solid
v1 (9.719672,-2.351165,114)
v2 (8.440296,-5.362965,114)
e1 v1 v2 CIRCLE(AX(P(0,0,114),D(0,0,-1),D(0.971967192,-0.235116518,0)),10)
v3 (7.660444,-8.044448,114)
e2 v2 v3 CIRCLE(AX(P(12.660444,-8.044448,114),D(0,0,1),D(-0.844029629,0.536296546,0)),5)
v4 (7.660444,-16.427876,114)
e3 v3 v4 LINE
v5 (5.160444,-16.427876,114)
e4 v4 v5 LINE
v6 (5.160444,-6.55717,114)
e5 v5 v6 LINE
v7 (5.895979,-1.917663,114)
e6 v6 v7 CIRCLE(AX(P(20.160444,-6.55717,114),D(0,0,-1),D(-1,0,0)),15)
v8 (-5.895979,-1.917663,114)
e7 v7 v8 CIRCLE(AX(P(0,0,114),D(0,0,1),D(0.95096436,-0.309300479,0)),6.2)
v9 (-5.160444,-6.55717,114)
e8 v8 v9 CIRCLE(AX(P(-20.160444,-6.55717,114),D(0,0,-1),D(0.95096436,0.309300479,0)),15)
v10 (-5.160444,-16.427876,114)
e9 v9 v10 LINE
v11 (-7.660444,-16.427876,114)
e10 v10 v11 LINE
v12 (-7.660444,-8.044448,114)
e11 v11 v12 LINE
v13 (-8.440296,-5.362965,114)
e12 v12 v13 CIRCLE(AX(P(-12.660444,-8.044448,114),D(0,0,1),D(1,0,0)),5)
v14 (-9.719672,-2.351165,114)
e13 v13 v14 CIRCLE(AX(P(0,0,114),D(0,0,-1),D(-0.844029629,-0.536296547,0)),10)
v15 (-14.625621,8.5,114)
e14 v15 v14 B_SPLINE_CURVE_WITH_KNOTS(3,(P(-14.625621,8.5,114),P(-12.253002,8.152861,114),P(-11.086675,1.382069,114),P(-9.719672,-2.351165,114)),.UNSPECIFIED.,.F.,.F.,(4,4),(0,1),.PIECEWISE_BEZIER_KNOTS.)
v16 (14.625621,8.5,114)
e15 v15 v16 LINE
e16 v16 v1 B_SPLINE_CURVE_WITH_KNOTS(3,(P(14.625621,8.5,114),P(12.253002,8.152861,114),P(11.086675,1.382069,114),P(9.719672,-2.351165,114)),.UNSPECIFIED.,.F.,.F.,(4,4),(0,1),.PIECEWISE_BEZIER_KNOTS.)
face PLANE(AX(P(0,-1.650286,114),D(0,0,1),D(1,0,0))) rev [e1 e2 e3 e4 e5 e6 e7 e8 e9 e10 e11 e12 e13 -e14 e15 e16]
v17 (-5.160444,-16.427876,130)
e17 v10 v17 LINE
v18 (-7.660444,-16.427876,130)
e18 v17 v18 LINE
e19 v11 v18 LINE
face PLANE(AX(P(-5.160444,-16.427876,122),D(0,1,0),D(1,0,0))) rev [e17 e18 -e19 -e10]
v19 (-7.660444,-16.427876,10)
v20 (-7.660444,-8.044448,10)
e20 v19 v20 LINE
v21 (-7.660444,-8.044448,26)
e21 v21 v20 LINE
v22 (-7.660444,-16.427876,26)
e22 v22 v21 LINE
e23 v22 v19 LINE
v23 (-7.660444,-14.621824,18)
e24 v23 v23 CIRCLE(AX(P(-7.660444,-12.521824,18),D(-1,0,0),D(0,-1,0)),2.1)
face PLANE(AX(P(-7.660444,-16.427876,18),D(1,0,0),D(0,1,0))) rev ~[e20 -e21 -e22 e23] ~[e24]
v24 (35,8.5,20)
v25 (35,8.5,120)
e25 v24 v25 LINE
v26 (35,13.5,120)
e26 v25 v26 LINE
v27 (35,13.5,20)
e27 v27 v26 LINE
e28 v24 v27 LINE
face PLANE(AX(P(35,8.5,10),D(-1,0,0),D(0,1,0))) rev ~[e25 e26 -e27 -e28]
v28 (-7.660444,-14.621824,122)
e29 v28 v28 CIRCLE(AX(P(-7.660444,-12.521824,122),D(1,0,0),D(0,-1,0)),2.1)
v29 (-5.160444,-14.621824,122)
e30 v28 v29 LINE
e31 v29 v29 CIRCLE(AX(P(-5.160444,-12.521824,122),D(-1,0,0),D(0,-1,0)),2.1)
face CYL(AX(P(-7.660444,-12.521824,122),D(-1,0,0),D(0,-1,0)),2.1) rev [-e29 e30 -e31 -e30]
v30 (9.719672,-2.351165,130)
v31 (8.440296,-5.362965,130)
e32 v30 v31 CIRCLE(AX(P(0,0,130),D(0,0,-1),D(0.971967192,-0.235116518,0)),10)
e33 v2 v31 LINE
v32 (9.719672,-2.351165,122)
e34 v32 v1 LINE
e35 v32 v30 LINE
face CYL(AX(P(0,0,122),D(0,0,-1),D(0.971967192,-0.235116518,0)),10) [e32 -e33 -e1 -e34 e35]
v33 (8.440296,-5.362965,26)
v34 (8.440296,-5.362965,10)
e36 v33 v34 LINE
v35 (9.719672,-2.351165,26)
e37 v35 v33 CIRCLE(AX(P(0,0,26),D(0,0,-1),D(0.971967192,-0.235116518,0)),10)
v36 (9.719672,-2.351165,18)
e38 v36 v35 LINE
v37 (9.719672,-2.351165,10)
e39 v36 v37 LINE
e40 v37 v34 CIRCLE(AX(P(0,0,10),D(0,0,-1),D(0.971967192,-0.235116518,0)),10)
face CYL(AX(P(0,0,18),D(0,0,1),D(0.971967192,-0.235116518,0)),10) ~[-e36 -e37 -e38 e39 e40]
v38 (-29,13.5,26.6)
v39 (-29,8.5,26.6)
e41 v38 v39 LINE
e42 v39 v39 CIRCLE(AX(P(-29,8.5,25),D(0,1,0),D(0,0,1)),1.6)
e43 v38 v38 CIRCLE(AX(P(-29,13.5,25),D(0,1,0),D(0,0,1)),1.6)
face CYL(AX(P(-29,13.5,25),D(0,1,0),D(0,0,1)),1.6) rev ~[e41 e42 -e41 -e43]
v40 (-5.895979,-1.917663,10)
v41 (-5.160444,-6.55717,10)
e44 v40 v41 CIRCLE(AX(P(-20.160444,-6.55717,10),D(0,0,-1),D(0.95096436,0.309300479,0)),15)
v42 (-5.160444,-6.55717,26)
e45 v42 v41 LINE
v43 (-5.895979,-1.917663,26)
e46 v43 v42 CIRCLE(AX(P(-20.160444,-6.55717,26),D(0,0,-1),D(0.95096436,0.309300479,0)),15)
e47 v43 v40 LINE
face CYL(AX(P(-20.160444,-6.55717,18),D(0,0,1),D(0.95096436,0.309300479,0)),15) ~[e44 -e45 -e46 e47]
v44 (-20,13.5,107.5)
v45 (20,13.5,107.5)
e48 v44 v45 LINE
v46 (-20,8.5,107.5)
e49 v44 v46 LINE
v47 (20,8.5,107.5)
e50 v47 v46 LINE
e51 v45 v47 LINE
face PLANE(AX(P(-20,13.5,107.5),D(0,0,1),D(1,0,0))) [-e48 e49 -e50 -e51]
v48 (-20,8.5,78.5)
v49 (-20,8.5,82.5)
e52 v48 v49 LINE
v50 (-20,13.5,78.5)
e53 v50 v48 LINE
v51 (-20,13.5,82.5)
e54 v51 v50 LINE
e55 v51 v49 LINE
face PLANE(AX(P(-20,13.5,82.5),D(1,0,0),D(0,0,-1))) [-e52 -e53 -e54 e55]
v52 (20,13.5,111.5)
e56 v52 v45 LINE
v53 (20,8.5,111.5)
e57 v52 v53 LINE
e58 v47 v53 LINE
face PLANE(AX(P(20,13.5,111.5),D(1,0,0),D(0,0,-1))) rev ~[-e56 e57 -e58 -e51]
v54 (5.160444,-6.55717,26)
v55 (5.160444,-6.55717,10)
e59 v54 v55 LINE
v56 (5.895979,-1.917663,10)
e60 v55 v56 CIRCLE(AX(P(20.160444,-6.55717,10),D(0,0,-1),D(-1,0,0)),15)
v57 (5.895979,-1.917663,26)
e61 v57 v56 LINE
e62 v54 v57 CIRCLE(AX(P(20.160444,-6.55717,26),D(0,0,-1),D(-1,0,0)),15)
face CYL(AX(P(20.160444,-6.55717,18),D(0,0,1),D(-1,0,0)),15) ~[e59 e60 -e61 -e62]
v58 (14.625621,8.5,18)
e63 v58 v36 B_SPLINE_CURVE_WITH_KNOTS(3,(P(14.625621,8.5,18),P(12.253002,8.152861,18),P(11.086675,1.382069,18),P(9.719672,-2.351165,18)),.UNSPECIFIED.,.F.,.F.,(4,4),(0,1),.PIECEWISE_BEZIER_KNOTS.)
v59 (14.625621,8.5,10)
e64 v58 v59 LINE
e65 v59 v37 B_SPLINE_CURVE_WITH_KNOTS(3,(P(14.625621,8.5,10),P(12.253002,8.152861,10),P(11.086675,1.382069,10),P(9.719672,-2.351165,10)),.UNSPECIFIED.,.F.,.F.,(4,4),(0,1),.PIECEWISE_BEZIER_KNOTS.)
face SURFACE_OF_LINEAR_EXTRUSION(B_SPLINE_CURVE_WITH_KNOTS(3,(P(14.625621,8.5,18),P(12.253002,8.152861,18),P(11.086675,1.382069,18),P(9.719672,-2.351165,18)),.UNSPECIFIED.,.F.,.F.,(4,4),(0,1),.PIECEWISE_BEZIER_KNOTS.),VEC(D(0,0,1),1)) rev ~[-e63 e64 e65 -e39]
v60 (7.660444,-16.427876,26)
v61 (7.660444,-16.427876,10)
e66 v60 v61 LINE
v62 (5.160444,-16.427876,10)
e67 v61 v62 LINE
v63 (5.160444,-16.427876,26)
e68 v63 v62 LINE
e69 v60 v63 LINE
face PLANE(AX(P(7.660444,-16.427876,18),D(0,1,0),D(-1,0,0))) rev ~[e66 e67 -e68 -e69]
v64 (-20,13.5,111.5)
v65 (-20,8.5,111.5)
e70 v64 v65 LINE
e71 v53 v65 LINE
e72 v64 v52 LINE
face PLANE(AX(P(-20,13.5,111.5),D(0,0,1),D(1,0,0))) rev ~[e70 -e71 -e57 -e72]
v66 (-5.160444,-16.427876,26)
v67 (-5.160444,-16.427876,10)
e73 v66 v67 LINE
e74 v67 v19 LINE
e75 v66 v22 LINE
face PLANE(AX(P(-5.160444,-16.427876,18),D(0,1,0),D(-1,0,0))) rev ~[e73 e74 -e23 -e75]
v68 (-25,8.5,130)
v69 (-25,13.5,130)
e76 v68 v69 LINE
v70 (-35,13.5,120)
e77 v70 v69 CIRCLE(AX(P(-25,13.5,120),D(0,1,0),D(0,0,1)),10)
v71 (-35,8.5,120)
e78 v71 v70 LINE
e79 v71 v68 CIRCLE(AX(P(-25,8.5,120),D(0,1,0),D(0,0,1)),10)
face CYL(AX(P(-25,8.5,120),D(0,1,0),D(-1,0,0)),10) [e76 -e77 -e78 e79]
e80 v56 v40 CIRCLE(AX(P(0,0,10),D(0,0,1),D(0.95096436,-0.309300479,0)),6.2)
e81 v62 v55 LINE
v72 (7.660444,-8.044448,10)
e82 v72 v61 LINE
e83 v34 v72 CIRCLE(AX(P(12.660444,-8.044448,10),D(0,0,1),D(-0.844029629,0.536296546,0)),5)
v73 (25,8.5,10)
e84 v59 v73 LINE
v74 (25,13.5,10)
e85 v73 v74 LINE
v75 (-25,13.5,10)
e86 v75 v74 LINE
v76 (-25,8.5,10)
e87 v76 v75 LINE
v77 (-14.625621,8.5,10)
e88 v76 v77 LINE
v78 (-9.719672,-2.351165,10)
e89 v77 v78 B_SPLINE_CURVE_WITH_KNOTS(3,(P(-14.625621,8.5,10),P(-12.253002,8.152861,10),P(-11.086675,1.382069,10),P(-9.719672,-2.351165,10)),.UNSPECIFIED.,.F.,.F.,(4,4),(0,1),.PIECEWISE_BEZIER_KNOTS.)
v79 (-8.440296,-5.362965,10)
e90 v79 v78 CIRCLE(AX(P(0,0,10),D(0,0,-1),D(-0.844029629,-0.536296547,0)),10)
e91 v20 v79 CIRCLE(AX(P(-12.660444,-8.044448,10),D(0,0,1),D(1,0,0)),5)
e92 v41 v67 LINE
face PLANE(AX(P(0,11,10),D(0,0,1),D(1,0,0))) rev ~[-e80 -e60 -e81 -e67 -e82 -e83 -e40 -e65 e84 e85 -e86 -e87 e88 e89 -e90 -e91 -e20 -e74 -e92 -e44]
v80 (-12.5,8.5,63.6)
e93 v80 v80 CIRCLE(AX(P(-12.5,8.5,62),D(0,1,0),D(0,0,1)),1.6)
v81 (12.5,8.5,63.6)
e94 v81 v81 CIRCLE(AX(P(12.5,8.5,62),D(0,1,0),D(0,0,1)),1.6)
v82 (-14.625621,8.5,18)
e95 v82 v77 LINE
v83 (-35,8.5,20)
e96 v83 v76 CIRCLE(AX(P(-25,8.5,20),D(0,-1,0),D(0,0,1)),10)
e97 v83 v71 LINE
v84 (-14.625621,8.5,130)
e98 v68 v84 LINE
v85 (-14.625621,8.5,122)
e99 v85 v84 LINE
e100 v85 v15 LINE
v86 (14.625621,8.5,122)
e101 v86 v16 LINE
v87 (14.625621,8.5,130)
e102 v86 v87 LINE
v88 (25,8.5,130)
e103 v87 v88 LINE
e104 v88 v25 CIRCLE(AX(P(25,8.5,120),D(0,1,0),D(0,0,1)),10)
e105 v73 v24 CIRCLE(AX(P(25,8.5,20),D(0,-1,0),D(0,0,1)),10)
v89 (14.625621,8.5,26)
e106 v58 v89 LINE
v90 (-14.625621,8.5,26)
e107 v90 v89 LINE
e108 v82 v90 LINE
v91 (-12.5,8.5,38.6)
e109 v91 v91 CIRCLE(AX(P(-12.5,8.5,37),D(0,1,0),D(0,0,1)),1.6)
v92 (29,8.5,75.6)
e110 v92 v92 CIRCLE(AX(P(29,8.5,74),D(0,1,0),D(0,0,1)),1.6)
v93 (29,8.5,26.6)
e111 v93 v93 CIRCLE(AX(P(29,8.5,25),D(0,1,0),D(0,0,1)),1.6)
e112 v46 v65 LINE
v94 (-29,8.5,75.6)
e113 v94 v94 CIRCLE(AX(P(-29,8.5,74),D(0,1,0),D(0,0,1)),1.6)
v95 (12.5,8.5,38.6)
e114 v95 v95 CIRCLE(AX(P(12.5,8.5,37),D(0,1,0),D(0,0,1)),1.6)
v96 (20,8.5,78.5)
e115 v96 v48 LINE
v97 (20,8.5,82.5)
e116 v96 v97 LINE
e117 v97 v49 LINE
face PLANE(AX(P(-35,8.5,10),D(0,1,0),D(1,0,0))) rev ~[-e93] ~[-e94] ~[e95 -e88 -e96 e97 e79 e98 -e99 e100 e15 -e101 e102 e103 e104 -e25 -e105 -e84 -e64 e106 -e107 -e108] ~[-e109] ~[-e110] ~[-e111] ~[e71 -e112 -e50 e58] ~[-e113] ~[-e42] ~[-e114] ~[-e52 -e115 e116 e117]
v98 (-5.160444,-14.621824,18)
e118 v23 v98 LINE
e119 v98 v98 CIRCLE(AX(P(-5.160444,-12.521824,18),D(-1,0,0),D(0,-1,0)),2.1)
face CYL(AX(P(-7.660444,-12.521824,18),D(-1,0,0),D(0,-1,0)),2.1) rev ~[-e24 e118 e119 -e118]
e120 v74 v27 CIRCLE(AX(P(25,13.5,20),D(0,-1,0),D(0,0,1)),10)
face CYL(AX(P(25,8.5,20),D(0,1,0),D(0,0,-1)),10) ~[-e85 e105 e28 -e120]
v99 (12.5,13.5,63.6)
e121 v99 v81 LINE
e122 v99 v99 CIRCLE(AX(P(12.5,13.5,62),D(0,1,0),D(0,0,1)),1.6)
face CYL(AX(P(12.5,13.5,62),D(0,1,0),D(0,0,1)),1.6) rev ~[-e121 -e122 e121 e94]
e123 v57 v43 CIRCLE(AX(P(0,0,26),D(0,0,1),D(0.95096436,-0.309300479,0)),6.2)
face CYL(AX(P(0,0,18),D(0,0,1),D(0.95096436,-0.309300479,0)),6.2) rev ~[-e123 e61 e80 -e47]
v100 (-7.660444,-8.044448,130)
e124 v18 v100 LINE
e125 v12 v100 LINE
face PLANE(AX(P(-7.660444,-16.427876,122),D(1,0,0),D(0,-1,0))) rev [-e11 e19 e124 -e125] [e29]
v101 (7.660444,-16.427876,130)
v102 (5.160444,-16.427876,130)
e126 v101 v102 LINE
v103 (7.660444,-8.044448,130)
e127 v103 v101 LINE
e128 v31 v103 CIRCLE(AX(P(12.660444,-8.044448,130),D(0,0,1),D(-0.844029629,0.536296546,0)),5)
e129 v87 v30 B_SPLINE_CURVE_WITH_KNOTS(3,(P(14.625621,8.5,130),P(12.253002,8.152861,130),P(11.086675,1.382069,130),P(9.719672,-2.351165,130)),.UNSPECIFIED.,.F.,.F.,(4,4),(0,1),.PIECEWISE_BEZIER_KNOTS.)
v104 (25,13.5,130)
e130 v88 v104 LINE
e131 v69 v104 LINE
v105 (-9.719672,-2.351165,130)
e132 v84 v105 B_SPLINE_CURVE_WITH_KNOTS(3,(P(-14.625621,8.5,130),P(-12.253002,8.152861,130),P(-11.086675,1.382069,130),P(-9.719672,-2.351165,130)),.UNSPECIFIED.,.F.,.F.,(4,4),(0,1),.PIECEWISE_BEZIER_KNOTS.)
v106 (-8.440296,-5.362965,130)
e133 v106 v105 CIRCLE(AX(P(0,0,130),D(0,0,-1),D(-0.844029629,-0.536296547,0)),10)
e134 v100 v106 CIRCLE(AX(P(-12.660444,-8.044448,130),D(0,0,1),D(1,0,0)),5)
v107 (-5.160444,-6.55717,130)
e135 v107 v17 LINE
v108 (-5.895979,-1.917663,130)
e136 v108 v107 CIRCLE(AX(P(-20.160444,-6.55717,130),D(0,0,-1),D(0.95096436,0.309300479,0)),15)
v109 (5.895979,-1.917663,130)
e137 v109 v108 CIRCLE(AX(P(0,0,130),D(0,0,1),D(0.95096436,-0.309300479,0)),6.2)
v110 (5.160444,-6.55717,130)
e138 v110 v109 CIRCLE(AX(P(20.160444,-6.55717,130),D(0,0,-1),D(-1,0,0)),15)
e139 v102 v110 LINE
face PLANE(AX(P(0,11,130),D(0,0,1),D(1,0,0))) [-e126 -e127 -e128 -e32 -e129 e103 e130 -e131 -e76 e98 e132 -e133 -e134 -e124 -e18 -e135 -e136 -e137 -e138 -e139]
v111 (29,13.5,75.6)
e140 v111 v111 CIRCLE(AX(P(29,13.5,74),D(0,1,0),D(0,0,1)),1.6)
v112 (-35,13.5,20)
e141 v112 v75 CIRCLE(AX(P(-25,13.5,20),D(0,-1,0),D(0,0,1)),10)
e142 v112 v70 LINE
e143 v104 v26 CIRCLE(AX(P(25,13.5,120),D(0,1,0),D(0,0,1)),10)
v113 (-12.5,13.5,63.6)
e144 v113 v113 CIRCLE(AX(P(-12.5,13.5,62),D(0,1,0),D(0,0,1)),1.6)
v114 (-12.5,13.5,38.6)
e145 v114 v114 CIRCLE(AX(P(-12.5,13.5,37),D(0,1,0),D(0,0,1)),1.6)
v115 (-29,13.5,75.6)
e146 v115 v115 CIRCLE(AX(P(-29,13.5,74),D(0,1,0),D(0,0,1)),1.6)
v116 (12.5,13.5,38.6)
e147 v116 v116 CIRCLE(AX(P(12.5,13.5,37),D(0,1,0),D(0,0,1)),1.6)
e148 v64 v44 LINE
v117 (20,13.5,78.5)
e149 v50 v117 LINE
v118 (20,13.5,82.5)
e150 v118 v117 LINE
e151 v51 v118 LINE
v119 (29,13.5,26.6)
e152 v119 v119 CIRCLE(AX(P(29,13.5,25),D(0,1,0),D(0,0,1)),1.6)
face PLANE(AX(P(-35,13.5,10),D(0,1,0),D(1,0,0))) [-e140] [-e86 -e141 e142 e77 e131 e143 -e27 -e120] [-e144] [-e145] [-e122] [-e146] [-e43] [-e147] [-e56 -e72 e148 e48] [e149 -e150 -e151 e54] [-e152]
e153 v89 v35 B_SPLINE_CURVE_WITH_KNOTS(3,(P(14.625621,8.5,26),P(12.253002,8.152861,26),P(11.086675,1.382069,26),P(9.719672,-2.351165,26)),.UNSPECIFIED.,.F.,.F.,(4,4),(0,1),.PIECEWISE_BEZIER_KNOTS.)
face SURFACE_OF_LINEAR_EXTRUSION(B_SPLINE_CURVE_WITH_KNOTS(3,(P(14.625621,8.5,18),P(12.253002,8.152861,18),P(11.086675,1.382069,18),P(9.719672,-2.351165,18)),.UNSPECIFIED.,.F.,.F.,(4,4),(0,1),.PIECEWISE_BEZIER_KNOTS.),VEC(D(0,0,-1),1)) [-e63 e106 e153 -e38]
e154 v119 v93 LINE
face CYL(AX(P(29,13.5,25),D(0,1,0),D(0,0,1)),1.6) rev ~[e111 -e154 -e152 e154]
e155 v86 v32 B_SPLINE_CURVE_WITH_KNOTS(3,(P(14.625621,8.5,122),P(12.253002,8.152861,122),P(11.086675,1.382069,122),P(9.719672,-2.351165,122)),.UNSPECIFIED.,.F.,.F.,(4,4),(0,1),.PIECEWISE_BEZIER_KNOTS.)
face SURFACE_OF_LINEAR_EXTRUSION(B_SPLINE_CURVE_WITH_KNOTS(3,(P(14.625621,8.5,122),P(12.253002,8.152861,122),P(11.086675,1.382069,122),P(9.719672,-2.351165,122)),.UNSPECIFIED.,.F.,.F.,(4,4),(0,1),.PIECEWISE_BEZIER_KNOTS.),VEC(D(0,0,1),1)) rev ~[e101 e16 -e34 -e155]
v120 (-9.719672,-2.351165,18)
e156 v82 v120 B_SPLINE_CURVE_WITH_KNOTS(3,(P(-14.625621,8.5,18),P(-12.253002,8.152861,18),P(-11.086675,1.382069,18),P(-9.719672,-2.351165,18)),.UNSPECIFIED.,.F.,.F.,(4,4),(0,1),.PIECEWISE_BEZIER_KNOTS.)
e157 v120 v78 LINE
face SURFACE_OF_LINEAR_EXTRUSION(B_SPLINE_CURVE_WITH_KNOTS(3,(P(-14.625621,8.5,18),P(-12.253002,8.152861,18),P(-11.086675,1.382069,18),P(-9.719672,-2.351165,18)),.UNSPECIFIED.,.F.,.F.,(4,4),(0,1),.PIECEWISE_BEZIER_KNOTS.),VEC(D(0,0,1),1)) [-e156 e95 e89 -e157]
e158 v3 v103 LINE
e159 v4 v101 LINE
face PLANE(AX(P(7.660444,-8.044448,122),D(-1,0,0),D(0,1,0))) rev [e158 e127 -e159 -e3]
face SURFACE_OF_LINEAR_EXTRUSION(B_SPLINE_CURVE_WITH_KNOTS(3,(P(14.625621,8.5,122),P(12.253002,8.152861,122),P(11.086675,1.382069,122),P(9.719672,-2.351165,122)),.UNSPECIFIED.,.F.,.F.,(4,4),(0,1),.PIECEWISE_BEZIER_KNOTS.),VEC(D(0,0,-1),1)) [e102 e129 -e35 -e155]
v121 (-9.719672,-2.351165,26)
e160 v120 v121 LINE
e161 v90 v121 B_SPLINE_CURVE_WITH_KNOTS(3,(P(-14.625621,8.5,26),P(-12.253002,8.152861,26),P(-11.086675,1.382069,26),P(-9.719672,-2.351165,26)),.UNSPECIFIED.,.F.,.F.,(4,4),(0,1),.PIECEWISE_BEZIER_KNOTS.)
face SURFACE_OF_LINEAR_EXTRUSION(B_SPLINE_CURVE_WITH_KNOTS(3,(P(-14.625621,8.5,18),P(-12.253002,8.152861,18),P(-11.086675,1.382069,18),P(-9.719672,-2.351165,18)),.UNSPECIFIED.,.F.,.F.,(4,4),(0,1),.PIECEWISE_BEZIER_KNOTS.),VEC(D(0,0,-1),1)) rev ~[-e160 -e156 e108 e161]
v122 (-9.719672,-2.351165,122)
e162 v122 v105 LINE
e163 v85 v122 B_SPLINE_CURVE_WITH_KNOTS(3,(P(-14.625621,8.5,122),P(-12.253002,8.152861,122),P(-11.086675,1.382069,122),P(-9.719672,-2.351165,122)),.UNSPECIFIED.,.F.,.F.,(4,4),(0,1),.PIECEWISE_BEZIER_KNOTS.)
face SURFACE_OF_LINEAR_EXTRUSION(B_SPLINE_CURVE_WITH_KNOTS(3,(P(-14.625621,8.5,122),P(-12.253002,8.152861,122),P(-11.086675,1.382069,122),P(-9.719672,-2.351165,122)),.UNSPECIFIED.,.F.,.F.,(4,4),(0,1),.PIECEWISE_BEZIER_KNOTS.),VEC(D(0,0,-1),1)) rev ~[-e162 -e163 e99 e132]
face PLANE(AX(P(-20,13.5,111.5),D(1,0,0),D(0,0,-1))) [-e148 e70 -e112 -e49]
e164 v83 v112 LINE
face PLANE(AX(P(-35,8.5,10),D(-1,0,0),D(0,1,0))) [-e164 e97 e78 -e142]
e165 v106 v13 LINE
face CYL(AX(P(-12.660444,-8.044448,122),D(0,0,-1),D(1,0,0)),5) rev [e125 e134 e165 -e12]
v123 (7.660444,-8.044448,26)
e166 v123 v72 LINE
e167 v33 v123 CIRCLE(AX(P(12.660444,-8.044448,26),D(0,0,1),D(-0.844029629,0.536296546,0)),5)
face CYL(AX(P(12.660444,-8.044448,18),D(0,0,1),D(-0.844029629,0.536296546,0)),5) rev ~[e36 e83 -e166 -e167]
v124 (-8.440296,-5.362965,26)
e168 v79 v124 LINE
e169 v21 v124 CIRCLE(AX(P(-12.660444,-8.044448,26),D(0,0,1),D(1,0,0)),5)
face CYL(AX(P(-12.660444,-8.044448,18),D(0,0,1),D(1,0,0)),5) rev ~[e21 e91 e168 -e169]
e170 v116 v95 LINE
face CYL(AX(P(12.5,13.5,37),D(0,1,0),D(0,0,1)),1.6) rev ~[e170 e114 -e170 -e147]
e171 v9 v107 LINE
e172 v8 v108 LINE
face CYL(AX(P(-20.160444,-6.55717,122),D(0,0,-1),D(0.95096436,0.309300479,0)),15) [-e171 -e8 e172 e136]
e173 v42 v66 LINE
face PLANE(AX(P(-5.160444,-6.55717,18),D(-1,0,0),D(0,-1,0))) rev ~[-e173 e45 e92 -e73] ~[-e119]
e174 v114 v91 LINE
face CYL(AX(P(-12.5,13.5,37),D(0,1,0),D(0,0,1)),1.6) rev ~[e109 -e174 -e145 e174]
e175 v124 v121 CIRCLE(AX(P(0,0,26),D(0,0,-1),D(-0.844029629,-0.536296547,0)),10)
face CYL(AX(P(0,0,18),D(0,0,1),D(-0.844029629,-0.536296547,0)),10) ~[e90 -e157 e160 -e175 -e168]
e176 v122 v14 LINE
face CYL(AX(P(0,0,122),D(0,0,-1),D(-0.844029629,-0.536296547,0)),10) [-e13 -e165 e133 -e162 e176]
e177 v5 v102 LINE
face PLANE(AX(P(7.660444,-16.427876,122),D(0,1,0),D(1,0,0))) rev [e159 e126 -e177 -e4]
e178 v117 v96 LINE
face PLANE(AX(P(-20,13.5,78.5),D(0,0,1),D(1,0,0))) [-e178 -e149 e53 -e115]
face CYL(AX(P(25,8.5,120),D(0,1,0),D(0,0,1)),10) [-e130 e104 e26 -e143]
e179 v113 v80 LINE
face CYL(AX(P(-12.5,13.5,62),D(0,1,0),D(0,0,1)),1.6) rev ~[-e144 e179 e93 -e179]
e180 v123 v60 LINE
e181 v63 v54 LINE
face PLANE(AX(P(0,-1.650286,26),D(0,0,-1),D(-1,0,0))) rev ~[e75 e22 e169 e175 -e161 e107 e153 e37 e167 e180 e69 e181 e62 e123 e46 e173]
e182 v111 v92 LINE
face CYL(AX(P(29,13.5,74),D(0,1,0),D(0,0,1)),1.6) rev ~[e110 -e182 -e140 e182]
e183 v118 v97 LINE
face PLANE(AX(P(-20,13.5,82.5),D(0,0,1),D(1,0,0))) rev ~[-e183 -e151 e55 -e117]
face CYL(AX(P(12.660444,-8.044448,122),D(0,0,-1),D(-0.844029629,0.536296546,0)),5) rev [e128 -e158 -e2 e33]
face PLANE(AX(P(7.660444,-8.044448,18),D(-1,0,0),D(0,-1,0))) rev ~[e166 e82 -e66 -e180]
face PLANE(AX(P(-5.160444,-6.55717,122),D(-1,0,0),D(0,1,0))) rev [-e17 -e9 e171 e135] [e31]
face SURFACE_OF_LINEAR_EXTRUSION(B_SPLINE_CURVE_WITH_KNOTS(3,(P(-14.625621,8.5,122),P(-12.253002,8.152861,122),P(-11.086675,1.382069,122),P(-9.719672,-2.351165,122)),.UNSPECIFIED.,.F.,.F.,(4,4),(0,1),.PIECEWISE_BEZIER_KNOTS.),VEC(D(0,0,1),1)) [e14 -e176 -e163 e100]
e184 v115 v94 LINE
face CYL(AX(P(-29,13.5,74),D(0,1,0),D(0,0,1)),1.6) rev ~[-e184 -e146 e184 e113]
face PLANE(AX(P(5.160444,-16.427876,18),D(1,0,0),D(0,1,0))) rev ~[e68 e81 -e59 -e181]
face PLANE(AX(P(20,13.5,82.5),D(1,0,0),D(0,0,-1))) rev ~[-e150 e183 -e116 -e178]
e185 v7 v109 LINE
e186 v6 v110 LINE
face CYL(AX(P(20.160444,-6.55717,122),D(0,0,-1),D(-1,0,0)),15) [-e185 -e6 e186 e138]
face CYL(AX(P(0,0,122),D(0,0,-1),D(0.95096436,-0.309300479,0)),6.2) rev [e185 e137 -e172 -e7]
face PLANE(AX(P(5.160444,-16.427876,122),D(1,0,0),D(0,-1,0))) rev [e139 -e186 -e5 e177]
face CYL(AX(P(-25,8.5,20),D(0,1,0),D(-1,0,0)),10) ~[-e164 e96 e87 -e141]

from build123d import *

# Parameters (mm, degrees)
BOSS_EXTRUDE2_START = 10
SKETCH3_W           = 70
SKETCH3_H           = 5
BOSS_EXTRUDE2_DEPTH = 120
BOSS_EXTRUDE3_START = 18
BOSS_EXTRUDE3_DEPTH = 8
SKETCH4_R           = 2.1
CUT_EXTRUDE1_DEPTH  = 11
FILLET1_R           = 10
SKETCH5_R           = 1.6
CUT_EXTRUDE2_DEPTH  = 11
CUT_EXTRUDE5_REACH  = 139.915
SKETCH7_R           = 1.6
CUT_EXTRUDE6_REACH  = 139.915
SKETCH6_W           = 40
SKETCH6_H           = 4


with BuildPart() as part:
    # Sketch3 → Boss-Extrude2 (new body)
    with BuildSketch(Plane.XY.offset(BOSS_EXTRUDE2_START)):
        with Locations((0, 11)):
            Rectangle(SKETCH3_W, SKETCH3_H)
    extrude(amount=BOSS_EXTRUDE2_DEPTH)

    # Sketch1 → Boss-Extrude3 (add, symmetric)
    with BuildSketch(Plane.XY.offset(BOSS_EXTRUDE3_START)):
        with BuildLine():
            Line((-14.625621312, 8.5), (14.625621312, 8.5))
            add(Edge.make_bspline(
                [(14.625621312, 8.5), (12.253002272, 8.152861079), (11.086674652, 1.382068579), (9.719671925, -2.351165174)],
                knots=[0, 0, 0, 0, 1, 1, 1, 1], degree=3))
            ThreePointArc((9.719671925, -2.351165174), (9.204012528, -3.909751064), (8.440296287, -5.362965465))
            ThreePointArc((8.440296287, -5.362965465), (7.859364307, -6.648156809), (7.660444431, -8.044448198))
            Line((7.660444431, -8.044448198), (7.660444431, -16.427876097))
            Line((7.660444431, -16.427876097), (6.160444431, -16.427876097))
            Line((6.160444431, -16.427876097), (5.160444431, -16.427876097))
            Line((5.160444431, -16.427876097), (5.160444431, -6.557170147))
            ThreePointArc((5.160444431, -6.557170147), (5.34546922, -4.208445066), (5.895979032, -1.917662968))
            ThreePointArc((5.895979032, -1.917662968), (0, 6.2), (-5.895979032, -1.917662968))
            ThreePointArc((-5.895979032, -1.917662968), (-5.34546922, -4.208445066), (-5.160444431, -6.557170147))
            Line((-5.160444431, -6.557170147), (-5.160444431, -16.427876097))
            Line((-5.160444431, -16.427876097), (-6.160444431, -16.427876097))
            Line((-6.160444431, -16.427876097), (-7.660444431, -16.427876097))
            Line((-7.660444431, -16.427876097), (-7.660444431, -8.044448198))
            ThreePointArc((-7.660444431, -8.044448198), (-7.859364307, -6.648156809), (-8.440296287, -5.362965465))
            ThreePointArc((-8.440296287, -5.362965465), (-9.204012528, -3.909751064), (-9.719671925, -2.351165174))
            add(Edge.make_bspline(
                [(-14.625621312, 8.5), (-12.253002272, 8.152861079), (-11.086674652, 1.382068579), (-9.719671925, -2.351165174)],
                knots=[0, 0, 0, 0, 1, 1, 1, 1], degree=3))
        make_face()
    boss_extrude3 = extrude(amount=BOSS_EXTRUDE3_DEPTH, both=True)

    # Sketch4 → Cut-Extrude1 (cut)
    with BuildSketch(Plane.ZY.offset(7.660444431)):
        with Locations(Location((18, -12.521824291, 0), (0, 0, 270))):
            Circle(SKETCH4_R)
    cut_extrude1 = extrude(amount=-CUT_EXTRUDE1_DEPTH, mode=Mode.SUBTRACT)

    # Mirror2: Boss-Extrude3, Cut-Extrude1 across plane
    add(boss_extrude3.mirror(Plane.XY.offset(70)))
    add(cut_extrude1.mirror(Plane.XY.offset(70)), mode=Mode.SUBTRACT)

    # Fillet1
    fillet1_edges = [part.edges().sort_by_distance(p)[0] for p in [
        (-35, 11, 130),
        (35, 11, 130),
        (-35, 11, 10),
        (35, 11, 10),
    ]]
    fillet(fillet1_edges, radius=FILLET1_R)

    # Sketch5 → Cut-Extrude2 (cut)
    with BuildSketch(Plane(origin=(0, 13.5, 0), x_dir=(1, 0, 0), z_dir=(0, 1, 0))):
        with Locations(Location((29, -25, 0), (0, 0, 270))):
            Circle(SKETCH5_R)
        with Locations(Location((29, -74, 0), (0, 0, 270))):
            Circle(SKETCH5_R)
        with Locations(Location((-29, -74, 0), (0, 0, 270))):
            Circle(SKETCH5_R)
        with Locations(Location((-29, -25, 0), (0, 0, 270))):
            Circle(SKETCH5_R)
    extrude(amount=-CUT_EXTRUDE2_DEPTH, mode=Mode.SUBTRACT)

    # Sketch7 → Cut-Extrude5 (cut, up to next)
    with BuildSketch(Plane(origin=(0, 13.5, 0), x_dir=(1, 0, 0), z_dir=(0, 1, 0)), mode=Mode.PRIVATE) as cut_extrude5_sk1:
        with Locations(Location((12.5, -37, 0), (0, 0, 270))):
            Circle(SKETCH7_R)
    cut_extrude5_tool1 = extrude(cut_extrude5_sk1.sketch, amount=-CUT_EXTRUDE5_REACH, mode=Mode.PRIVATE) & part.part
    # Sketch7 → Cut-Extrude5 (cut, up to next)
    with BuildSketch(Plane(origin=(0, 13.5, 0), x_dir=(1, 0, 0), z_dir=(0, 1, 0)), mode=Mode.PRIVATE) as cut_extrude5_sk2:
        with Locations(Location((12.5, -62, 0), (0, 0, 270))):
            Circle(SKETCH7_R)
    cut_extrude5_tool2 = extrude(cut_extrude5_sk2.sketch, amount=-CUT_EXTRUDE5_REACH, mode=Mode.PRIVATE) & part.part
    # Sketch7 → Cut-Extrude5 (cut, up to next)
    with BuildSketch(Plane(origin=(0, 13.5, 0), x_dir=(1, 0, 0), z_dir=(0, 1, 0)), mode=Mode.PRIVATE) as cut_extrude5_sk3:
        with Locations(Location((-12.5, -62, 0), (0, 0, 270))):
            Circle(SKETCH7_R)
    cut_extrude5_tool3 = extrude(cut_extrude5_sk3.sketch, amount=-CUT_EXTRUDE5_REACH, mode=Mode.PRIVATE) & part.part
    # Sketch7 → Cut-Extrude5 (cut, up to next)
    with BuildSketch(Plane(origin=(0, 13.5, 0), x_dir=(1, 0, 0), z_dir=(0, 1, 0)), mode=Mode.PRIVATE) as cut_extrude5_sk4:
        with Locations(Location((-12.5, -37, 0), (0, 0, 270))):
            Circle(SKETCH7_R)
    cut_extrude5_tool4 = extrude(cut_extrude5_sk4.sketch, amount=-CUT_EXTRUDE5_REACH, mode=Mode.PRIVATE) & part.part
    add(cut_extrude5_tool1.solids().sort_by_distance((12.5, 13.5, 37))[0], mode=Mode.SUBTRACT)
    add(cut_extrude5_tool2.solids().sort_by_distance((12.5, 13.5, 62))[0], mode=Mode.SUBTRACT)
    add(cut_extrude5_tool3.solids().sort_by_distance((-12.5, 13.5, 62))[0], mode=Mode.SUBTRACT)
    add(cut_extrude5_tool4.solids().sort_by_distance((-12.5, 13.5, 37))[0], mode=Mode.SUBTRACT)

    # Sketch6 → Cut-Extrude6 (cut, up to next)
    with BuildSketch(Plane(origin=(0, 13.5, 0), x_dir=(1, 0, 0), z_dir=(0, 1, 0)), mode=Mode.PRIVATE) as cut_extrude6_sk1:
        with Locations((0, -80.5)):
            Rectangle(SKETCH6_W, SKETCH6_H)
    cut_extrude6_tool1 = extrude(cut_extrude6_sk1.sketch, amount=-CUT_EXTRUDE6_REACH, mode=Mode.PRIVATE) & part.part
    # Sketch6 → Cut-Extrude6 (cut, up to next)
    with BuildSketch(Plane(origin=(0, 13.5, 0), x_dir=(1, 0, 0), z_dir=(0, 1, 0)), mode=Mode.PRIVATE) as cut_extrude6_sk2:
        with Locations((0, -109.5)):
            Rectangle(SKETCH6_W, SKETCH6_H)
    cut_extrude6_tool2 = extrude(cut_extrude6_sk2.sketch, amount=-CUT_EXTRUDE6_REACH, mode=Mode.PRIVATE) & part.part
    add(cut_extrude6_tool1.solids().sort_by_distance((0, 13.5, 80.5))[0], mode=Mode.SUBTRACT)
    add(cut_extrude6_tool2.solids().sort_by_distance((0, 13.5, 109.5))[0], mode=Mode.SUBTRACT)


solid = part.part
